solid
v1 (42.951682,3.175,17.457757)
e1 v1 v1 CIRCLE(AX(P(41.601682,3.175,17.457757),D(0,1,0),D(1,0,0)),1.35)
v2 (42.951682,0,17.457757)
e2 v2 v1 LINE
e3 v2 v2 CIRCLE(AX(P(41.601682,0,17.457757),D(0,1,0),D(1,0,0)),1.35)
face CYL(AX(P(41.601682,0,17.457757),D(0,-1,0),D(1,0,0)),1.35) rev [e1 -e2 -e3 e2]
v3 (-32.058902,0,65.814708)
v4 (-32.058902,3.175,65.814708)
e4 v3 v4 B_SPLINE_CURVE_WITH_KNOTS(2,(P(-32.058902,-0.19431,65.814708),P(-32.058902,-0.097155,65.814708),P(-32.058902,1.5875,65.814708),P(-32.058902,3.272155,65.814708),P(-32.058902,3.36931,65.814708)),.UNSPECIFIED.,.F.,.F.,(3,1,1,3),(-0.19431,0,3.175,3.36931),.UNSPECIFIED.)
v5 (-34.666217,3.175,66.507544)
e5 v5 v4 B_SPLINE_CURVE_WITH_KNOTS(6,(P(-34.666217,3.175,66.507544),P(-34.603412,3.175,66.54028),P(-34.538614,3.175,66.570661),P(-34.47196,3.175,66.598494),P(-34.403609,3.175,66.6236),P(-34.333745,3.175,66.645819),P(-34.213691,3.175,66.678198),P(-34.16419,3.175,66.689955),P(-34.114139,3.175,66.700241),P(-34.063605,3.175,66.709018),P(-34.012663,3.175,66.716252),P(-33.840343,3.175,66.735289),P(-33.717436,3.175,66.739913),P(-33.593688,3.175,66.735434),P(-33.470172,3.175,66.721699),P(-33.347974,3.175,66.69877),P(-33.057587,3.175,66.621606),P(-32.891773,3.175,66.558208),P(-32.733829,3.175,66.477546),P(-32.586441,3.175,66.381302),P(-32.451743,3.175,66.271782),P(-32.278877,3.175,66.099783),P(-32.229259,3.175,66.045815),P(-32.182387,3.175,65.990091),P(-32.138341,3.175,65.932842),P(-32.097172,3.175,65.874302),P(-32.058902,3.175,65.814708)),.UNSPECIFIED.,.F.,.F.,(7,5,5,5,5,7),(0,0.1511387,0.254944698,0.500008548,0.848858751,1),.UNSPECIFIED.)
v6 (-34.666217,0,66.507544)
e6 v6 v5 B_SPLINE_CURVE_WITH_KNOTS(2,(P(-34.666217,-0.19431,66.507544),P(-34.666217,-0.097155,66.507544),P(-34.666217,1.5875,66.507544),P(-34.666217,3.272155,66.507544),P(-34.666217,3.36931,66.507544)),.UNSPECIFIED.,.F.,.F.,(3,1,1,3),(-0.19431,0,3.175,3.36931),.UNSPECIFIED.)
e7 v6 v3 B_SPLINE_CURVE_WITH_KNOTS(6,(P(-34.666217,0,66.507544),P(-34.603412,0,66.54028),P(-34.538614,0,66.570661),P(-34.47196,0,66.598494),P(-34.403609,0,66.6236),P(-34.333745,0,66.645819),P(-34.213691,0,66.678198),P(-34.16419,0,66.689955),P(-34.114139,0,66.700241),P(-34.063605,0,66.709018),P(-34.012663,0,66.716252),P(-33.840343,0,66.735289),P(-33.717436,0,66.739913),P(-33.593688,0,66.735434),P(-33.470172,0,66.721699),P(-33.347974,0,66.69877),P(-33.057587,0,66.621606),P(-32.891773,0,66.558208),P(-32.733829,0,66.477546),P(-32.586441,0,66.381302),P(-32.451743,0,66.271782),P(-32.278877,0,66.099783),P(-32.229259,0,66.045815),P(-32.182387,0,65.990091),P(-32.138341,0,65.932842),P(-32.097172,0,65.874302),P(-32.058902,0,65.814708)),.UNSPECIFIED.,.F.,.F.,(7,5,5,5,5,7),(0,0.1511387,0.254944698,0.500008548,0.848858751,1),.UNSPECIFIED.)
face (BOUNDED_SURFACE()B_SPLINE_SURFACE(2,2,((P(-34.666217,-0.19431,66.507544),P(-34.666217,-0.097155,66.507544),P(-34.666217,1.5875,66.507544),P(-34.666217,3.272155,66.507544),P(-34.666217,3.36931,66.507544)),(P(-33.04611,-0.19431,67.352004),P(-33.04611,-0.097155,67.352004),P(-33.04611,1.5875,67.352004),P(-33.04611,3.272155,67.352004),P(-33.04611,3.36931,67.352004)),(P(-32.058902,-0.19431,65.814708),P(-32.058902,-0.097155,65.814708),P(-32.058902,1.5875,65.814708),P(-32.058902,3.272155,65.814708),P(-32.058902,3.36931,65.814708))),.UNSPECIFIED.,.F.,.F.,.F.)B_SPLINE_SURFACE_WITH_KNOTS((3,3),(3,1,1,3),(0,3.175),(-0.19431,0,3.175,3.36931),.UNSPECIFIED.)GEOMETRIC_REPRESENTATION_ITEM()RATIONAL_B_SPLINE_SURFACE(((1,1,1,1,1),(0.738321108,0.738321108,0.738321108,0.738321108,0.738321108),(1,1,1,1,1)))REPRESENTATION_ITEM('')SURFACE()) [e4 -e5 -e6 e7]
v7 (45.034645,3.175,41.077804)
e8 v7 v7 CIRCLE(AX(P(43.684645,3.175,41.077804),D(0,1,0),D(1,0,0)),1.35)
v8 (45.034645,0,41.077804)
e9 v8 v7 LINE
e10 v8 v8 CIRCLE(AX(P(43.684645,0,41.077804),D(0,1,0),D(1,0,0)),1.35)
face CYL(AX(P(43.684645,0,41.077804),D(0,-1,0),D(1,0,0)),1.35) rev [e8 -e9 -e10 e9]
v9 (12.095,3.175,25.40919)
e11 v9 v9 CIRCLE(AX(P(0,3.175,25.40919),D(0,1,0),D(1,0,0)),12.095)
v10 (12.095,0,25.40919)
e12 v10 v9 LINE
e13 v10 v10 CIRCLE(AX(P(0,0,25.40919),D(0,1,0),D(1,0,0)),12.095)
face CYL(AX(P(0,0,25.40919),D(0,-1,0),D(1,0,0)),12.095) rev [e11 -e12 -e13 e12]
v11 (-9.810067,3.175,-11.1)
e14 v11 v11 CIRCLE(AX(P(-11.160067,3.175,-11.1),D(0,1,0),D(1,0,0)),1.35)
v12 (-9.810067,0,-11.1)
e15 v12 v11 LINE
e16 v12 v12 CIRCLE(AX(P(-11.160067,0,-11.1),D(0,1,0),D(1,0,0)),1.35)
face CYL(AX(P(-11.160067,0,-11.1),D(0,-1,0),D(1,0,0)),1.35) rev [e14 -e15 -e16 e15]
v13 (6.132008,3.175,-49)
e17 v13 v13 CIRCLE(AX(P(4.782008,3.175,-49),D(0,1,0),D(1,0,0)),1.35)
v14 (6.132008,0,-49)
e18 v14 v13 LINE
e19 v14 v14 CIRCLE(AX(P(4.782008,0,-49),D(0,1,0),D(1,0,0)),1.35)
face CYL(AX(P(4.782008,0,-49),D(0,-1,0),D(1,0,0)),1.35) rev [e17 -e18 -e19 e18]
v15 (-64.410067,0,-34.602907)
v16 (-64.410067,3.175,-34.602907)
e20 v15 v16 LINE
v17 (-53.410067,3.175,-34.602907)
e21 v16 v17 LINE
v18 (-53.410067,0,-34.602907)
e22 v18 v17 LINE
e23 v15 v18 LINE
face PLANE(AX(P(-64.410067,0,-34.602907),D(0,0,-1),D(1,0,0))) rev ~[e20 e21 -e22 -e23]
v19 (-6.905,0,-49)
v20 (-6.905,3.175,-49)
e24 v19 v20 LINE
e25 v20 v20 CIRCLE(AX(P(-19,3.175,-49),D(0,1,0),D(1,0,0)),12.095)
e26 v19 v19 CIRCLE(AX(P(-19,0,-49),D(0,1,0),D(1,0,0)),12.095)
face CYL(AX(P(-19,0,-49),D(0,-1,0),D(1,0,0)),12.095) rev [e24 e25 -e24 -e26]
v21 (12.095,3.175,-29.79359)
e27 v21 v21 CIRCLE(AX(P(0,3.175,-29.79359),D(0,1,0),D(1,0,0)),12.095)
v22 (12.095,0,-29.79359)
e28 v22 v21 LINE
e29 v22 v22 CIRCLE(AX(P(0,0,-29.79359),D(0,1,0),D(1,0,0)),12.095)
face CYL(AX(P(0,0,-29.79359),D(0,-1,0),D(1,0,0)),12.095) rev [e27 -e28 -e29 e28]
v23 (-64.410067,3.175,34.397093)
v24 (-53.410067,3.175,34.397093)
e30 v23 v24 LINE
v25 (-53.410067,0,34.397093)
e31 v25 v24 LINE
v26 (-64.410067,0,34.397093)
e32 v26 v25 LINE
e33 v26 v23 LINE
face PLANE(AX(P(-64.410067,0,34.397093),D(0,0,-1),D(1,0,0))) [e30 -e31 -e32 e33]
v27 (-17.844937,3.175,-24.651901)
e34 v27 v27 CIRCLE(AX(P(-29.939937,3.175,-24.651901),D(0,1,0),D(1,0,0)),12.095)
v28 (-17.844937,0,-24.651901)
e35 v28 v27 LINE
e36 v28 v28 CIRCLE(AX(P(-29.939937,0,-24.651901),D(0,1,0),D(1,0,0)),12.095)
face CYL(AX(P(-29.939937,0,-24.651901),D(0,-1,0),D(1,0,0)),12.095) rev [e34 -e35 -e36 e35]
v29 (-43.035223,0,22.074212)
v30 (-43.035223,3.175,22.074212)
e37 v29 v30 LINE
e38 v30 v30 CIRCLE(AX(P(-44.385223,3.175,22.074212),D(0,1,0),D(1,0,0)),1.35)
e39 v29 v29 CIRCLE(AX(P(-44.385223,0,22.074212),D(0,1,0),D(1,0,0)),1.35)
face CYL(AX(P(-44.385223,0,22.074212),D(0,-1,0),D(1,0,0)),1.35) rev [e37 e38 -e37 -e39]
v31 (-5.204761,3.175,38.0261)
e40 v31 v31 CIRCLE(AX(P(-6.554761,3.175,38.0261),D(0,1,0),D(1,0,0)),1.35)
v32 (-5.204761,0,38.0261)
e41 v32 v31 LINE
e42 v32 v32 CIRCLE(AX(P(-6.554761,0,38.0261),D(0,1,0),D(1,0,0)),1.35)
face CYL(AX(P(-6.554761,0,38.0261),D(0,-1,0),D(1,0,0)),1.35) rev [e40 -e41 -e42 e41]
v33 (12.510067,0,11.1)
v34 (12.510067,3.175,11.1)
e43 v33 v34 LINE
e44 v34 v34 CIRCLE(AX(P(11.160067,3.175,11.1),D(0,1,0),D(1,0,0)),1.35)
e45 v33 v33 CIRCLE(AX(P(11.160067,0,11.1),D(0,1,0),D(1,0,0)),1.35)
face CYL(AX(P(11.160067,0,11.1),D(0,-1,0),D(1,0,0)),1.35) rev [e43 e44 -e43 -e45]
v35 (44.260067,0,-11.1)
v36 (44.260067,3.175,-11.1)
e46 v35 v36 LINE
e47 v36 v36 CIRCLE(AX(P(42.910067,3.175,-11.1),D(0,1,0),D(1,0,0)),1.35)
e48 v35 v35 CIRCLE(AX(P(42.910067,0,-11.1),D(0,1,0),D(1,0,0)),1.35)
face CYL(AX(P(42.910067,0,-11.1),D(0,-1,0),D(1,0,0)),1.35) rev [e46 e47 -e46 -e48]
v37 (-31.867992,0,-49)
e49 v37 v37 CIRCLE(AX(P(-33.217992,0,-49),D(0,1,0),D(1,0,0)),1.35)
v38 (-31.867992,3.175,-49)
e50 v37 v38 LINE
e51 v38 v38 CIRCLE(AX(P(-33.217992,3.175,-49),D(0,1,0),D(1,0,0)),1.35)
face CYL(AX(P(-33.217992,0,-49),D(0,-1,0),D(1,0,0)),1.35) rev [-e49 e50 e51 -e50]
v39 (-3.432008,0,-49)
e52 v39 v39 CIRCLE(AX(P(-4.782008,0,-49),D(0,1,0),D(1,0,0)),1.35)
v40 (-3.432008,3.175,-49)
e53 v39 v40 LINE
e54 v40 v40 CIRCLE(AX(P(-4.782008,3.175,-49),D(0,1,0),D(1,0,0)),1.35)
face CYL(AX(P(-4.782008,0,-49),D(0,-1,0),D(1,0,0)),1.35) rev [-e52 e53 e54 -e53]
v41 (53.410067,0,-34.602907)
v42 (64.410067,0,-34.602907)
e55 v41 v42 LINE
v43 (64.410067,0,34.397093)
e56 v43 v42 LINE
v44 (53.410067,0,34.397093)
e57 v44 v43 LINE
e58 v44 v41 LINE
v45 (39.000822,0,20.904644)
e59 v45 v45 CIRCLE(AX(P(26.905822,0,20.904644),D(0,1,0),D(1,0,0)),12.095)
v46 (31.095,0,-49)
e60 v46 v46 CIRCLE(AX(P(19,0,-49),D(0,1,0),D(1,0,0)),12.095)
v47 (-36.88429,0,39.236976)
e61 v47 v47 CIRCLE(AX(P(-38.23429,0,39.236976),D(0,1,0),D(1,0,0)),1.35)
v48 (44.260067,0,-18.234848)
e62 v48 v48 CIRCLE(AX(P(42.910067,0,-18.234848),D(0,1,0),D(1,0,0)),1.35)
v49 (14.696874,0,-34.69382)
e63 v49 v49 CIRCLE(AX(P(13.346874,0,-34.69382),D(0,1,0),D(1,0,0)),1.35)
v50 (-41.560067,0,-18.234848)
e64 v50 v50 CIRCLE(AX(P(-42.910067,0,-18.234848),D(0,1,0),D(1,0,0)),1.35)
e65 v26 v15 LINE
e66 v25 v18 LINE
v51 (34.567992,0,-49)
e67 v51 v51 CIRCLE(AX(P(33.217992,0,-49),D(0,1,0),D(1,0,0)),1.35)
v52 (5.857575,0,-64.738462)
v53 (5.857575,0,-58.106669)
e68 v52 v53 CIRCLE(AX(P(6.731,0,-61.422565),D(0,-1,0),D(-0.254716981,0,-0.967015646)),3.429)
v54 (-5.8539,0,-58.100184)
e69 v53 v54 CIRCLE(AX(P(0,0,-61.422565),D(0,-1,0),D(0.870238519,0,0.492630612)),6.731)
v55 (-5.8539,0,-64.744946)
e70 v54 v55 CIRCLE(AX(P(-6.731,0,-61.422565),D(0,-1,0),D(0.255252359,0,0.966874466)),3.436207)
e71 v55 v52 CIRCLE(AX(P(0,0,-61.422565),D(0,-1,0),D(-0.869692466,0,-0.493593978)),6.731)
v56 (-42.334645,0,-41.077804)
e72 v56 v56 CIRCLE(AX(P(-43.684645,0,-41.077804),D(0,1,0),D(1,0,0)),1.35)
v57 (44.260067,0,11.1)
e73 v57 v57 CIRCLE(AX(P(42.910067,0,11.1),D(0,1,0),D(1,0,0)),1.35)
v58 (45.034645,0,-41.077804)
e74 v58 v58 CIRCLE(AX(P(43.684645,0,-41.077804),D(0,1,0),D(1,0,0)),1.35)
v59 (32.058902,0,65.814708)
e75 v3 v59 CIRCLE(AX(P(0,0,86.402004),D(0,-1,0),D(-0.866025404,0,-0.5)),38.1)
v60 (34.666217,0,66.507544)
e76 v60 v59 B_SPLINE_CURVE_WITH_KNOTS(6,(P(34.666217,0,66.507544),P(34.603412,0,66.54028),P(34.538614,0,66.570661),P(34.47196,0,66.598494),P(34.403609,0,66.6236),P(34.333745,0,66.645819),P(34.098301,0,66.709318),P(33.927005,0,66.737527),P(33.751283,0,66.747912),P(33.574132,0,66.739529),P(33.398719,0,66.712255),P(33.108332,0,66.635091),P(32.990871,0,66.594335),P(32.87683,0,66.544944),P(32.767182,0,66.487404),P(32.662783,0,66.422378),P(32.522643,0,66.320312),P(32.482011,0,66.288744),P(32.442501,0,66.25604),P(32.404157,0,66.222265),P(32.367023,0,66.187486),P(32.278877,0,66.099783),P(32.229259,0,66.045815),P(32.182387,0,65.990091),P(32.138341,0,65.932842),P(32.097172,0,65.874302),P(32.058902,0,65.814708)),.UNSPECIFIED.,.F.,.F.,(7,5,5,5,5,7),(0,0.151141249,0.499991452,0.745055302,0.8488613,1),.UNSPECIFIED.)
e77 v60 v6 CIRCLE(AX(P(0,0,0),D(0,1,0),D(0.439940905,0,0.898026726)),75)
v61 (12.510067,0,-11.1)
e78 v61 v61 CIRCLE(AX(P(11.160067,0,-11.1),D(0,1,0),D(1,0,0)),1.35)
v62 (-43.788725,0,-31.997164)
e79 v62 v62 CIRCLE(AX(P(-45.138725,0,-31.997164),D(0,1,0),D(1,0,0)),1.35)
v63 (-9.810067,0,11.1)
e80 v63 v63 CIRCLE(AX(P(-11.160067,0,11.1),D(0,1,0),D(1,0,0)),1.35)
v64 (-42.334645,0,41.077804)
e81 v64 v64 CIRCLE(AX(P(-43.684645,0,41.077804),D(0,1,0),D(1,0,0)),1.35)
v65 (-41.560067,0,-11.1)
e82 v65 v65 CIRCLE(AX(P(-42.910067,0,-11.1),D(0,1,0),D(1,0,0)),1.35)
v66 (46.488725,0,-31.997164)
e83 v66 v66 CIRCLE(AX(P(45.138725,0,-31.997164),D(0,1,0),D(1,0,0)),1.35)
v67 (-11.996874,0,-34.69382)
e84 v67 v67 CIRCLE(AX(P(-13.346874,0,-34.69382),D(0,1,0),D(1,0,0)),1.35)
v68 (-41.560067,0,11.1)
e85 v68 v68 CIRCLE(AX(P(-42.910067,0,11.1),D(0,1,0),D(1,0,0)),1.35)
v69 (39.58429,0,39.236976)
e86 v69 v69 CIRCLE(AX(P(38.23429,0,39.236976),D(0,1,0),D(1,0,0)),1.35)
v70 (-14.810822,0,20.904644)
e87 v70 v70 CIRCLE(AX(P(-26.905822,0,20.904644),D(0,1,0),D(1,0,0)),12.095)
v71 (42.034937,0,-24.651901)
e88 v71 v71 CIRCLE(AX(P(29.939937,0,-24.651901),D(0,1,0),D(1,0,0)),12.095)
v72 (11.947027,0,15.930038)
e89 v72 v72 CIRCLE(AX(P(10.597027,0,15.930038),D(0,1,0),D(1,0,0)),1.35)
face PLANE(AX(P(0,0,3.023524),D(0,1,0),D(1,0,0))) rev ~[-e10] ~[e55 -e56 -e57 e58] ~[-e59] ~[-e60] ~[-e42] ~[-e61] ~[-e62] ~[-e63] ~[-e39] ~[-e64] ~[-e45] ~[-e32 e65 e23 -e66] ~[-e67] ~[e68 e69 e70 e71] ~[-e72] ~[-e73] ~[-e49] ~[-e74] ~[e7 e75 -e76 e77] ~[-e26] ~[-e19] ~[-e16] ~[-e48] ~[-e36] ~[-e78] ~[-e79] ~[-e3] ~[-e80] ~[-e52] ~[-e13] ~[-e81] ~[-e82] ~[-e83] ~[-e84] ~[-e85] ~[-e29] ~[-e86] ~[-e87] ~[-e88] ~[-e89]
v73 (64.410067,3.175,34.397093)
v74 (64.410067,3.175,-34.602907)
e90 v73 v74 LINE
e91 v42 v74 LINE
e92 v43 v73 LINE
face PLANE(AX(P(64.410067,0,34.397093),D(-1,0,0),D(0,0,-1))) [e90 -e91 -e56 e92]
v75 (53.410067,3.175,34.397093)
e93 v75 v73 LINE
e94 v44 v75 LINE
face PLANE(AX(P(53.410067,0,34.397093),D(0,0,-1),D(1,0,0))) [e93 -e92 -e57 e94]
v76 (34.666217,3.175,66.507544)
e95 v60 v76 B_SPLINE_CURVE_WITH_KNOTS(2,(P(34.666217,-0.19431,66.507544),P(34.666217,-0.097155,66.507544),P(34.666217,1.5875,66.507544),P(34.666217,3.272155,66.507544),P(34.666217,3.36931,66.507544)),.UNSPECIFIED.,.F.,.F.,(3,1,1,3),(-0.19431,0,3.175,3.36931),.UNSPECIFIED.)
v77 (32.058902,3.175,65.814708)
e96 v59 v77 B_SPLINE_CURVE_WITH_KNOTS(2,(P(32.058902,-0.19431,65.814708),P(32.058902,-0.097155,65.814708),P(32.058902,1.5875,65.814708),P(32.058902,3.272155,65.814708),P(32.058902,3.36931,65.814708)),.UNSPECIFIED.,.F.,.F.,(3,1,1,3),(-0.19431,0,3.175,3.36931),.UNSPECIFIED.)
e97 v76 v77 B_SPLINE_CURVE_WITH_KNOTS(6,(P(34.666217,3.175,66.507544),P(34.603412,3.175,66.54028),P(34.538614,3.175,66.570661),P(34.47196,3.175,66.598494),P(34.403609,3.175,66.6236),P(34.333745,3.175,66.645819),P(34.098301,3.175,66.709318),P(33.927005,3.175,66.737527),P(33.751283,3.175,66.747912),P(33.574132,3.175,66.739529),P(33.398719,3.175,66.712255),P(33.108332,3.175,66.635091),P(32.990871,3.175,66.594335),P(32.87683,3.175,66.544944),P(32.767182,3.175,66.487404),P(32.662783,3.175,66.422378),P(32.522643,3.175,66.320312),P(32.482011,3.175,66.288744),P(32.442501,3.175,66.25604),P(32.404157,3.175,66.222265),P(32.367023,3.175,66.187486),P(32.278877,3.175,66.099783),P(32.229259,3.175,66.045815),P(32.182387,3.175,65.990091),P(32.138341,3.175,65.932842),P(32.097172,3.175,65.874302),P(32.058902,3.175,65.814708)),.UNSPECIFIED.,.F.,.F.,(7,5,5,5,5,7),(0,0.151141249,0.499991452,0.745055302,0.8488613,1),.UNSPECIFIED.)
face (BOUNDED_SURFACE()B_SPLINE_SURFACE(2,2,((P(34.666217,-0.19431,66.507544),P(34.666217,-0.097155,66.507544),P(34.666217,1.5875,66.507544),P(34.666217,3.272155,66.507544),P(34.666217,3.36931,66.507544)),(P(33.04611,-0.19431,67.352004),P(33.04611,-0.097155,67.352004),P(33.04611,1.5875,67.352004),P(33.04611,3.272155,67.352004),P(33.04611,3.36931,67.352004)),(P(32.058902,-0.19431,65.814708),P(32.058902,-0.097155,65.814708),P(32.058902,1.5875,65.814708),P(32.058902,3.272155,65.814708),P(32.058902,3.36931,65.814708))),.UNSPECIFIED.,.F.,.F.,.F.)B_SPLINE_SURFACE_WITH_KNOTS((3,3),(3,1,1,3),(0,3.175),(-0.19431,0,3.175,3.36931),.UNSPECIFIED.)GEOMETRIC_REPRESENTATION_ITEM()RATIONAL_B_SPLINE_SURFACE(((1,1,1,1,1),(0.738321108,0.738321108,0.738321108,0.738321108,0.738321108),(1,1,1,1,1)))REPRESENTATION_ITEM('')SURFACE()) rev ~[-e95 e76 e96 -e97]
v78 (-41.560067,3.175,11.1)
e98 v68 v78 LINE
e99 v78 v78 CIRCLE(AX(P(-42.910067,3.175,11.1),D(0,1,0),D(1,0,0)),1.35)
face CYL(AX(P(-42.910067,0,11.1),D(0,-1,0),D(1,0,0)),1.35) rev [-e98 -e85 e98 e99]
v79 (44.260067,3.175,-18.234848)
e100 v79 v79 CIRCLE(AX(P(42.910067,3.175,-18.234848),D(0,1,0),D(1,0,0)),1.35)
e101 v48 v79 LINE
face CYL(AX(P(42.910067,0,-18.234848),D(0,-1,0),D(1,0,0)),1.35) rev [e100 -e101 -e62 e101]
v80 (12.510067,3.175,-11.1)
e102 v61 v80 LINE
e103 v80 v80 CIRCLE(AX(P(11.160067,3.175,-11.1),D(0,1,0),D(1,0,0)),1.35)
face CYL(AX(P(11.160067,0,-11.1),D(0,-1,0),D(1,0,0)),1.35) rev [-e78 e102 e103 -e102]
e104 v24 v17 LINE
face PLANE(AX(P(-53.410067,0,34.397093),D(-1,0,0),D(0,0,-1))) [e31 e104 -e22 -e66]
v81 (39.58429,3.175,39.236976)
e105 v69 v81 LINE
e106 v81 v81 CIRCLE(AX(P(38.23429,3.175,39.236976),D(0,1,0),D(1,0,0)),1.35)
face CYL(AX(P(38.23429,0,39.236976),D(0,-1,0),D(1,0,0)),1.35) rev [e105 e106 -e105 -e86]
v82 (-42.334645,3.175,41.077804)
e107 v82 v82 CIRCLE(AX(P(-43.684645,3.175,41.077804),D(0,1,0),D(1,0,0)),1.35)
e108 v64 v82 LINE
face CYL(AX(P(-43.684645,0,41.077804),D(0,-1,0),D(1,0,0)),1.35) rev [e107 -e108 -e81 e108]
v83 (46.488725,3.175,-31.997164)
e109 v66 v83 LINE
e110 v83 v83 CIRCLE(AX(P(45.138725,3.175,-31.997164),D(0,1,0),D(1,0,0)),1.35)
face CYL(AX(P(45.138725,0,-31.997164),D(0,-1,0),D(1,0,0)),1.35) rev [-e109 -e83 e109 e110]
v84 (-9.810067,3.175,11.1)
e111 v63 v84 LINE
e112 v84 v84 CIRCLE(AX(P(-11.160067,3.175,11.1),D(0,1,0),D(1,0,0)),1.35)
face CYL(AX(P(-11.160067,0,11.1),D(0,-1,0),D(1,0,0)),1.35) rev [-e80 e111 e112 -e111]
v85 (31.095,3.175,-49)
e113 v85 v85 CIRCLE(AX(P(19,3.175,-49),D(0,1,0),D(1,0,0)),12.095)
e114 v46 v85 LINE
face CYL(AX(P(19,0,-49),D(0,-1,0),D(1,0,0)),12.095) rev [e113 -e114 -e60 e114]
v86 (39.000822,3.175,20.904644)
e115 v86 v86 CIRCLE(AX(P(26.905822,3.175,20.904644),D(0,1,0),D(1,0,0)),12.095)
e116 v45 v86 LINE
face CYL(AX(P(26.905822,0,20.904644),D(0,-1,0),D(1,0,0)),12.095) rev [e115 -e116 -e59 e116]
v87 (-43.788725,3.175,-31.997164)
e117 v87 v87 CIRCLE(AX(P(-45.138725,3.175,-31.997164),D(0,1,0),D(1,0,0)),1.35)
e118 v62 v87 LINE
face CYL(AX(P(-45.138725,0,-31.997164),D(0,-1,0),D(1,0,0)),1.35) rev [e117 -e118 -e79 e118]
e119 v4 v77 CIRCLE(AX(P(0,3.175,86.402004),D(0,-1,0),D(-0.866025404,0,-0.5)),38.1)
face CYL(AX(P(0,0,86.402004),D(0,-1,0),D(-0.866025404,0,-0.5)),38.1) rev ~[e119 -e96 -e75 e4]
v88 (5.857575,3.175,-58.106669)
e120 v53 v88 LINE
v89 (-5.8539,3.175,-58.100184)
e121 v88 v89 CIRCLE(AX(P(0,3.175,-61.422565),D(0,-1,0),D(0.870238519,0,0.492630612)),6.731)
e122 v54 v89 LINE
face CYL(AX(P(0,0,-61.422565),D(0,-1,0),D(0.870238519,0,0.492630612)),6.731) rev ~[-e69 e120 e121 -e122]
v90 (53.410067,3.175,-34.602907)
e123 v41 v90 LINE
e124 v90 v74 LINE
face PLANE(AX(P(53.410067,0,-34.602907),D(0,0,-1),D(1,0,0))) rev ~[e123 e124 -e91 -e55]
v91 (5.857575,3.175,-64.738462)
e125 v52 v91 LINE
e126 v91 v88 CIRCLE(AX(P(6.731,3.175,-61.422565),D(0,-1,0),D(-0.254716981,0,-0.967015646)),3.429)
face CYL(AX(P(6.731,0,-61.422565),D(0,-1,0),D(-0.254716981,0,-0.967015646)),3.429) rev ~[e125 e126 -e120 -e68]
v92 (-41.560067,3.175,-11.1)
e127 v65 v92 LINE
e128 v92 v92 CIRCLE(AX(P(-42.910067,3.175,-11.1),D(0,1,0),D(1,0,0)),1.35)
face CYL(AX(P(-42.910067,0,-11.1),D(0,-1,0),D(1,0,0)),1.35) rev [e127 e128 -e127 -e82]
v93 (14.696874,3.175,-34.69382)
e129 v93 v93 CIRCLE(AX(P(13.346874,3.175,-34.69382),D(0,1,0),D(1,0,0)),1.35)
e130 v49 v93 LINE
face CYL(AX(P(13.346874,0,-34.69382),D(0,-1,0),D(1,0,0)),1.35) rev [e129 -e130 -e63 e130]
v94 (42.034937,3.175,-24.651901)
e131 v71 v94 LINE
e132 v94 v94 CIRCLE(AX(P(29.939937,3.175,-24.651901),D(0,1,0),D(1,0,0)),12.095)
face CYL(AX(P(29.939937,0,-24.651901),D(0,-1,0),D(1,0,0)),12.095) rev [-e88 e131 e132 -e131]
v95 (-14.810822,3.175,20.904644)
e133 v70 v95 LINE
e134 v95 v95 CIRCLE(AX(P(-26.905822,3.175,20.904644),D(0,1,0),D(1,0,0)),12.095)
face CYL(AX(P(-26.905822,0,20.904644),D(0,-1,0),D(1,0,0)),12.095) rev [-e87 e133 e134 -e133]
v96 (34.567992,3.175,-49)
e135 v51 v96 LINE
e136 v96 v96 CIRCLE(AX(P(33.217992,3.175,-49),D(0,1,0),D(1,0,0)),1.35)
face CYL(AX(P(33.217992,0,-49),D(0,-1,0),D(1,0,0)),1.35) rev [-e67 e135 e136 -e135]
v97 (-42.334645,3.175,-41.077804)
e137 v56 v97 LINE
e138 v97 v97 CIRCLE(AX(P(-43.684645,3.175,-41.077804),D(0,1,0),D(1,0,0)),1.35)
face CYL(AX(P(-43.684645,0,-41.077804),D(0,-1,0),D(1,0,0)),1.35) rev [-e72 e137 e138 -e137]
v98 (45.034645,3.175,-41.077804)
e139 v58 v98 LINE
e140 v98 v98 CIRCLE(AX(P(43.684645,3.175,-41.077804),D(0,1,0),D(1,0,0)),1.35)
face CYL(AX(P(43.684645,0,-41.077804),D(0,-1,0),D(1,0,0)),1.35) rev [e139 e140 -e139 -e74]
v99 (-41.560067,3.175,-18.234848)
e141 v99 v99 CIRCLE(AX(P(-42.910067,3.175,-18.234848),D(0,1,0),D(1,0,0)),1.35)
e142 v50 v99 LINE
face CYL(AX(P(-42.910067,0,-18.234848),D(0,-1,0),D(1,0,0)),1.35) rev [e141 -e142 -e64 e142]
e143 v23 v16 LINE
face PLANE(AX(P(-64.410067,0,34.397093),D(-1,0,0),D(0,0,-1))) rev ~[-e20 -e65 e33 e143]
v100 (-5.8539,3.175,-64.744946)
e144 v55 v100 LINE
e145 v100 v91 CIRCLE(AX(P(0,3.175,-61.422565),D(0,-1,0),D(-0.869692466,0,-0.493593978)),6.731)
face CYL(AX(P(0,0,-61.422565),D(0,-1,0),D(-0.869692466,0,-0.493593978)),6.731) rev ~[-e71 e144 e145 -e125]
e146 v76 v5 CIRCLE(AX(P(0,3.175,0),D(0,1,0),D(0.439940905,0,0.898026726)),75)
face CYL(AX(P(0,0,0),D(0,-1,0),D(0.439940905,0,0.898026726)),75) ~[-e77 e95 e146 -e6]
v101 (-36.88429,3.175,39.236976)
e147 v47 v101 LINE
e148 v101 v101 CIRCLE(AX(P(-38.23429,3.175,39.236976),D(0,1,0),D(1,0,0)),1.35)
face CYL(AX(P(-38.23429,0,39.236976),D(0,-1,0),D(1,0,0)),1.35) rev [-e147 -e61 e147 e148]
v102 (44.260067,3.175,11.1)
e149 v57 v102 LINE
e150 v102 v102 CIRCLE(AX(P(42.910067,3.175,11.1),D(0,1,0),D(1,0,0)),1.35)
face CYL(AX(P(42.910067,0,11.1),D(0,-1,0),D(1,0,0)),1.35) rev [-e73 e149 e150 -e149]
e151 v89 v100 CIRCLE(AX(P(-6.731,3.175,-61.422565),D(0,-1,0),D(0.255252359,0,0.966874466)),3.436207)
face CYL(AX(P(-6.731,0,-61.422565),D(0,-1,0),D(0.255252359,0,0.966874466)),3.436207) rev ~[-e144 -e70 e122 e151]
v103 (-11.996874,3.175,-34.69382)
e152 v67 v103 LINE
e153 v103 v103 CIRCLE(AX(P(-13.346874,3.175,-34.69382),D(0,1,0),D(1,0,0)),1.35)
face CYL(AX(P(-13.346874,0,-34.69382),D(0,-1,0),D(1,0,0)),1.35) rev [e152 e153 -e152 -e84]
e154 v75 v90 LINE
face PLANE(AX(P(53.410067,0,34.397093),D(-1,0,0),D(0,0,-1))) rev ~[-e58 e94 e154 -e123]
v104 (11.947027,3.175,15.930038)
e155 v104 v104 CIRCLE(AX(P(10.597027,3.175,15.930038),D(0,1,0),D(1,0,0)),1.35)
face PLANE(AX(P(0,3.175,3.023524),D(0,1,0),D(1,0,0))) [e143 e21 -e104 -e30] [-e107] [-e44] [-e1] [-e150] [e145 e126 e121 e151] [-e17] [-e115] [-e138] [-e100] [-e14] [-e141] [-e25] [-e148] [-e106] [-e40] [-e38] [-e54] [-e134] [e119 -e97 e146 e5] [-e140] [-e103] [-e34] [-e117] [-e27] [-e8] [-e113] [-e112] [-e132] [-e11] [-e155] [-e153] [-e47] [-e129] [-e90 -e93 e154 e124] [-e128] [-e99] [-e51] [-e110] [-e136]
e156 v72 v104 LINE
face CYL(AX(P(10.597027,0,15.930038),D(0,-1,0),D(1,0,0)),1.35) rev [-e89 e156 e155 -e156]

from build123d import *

# Parameters (mm, degrees)
SKETCH1_R           = 1.35
SKETCH1_R_2         = 12.095
SKETCH1_W           = 11
SKETCH1_H           = 69
BOSS_EXTRUDE2_DEPTH = 3.175
FILLET1_R           = 2


with BuildPart() as part:
    # Sketch1 → Boss-Extrude2 (new body)
    with BuildSketch(Plane(origin=(0, 0, 0), x_dir=(1, 0, 0), z_dir=(0, 1, 0))):
        with BuildLine():
            ThreePointArc((32.995567884, -67.352004425), (0, 75), (-32.995567884, -67.352004425))
            ThreePointArc((-32.995567884, -67.352004425), (0, -48.302004425), (32.995567884, -67.352004425))
        make_face()
        with Locations((-42.910067426, 11.1)):
            Circle(SKETCH1_R, mode=Mode.SUBTRACT)
        with Locations((-42.910067426, -11.1)):
            Circle(SKETCH1_R, mode=Mode.SUBTRACT)
        with Locations((-11.160067426, -11.1)):
            Circle(SKETCH1_R, mode=Mode.SUBTRACT)
        with Locations((-11.160067426, 11.1)):
            Circle(SKETCH1_R, mode=Mode.SUBTRACT)
        with Locations((11.160067426, 11.1)):
            Circle(SKETCH1_R, mode=Mode.SUBTRACT)
        with Locations((11.160067426, -11.1)):
            Circle(SKETCH1_R, mode=Mode.SUBTRACT)
        with Locations((42.910067426, -11.1)):
            Circle(SKETCH1_R, mode=Mode.SUBTRACT)
        with Locations((42.910067426, 11.1)):
            Circle(SKETCH1_R, mode=Mode.SUBTRACT)
        with Locations((26.905821676, -20.904643604)):
            Circle(SKETCH1_R_2, mode=Mode.SUBTRACT)
        with Locations((19, 49)):
            Circle(SKETCH1_R_2, mode=Mode.SUBTRACT)
        with Locations((0, 29.793589551)):
            Circle(SKETCH1_R_2, mode=Mode.SUBTRACT)
        with Locations((0, -25.409190322)):
            Circle(SKETCH1_R_2, mode=Mode.SUBTRACT)
        with Locations((29.939937248, 24.651901309)):
            Circle(SKETCH1_R_2, mode=Mode.SUBTRACT)
        with Locations((-26.905821676, -20.904643604)):
            Circle(SKETCH1_R_2, mode=Mode.SUBTRACT)
        with Locations((-29.939937248, 24.651901309)):
            Circle(SKETCH1_R_2, mode=Mode.SUBTRACT)
        with Locations((-33.21799214, 49)):
            Circle(SKETCH1_R, mode=Mode.SUBTRACT)
        with Locations((-4.78200786, 49)):
            Circle(SKETCH1_R, mode=Mode.SUBTRACT)
        with Locations((4.78200786, 49)):
            Circle(SKETCH1_R, mode=Mode.SUBTRACT)
        with Locations((-42.910067426, 18.234848025)):
            Circle(SKETCH1_R, mode=Mode.SUBTRACT)
        with Locations((42.910067426, 18.234848025)):
            Circle(SKETCH1_R, mode=Mode.SUBTRACT)
        with Locations((-19, 49)):
            Circle(SKETCH1_R_2, mode=Mode.SUBTRACT)
        with Locations((45.13872464, 31.997163897)):
            Circle(SKETCH1_R, mode=Mode.SUBTRACT)
        with Locations((-45.13872464, 31.997163897)):
            Circle(SKETCH1_R, mode=Mode.SUBTRACT)
        with Locations((13.346873881, 34.693819966)):
            Circle(SKETCH1_R, mode=Mode.SUBTRACT)
        with Locations((-6.55476095, -38.026099982)):
            Circle(SKETCH1_R, mode=Mode.SUBTRACT)
        with Locations((-13.346873881, 34.693819966)):
            Circle(SKETCH1_R, mode=Mode.SUBTRACT)
        with Locations((10.597026674, -15.930038136)):
            Circle(SKETCH1_R, mode=Mode.SUBTRACT)
        with Locations((-38.234289702, -39.23697625)):
            Circle(SKETCH1_R, mode=Mode.SUBTRACT)
        with Locations((-43.684644625, -41.077803557)):
            Circle(SKETCH1_R, mode=Mode.SUBTRACT)
        with Locations((-43.684644625, 41.077803557)):
            Circle(SKETCH1_R, mode=Mode.SUBTRACT)
        with Locations((43.684644625, -41.077803557)):
            Circle(SKETCH1_R, mode=Mode.SUBTRACT)
        with Locations((33.21799214, 49)):
            Circle(SKETCH1_R, mode=Mode.SUBTRACT)
        with Locations((43.684644625, 41.077803557)):
            Circle(SKETCH1_R, mode=Mode.SUBTRACT)
        with Locations((-44.385223141, -22.074211772)):
            Circle(SKETCH1_R, mode=Mode.SUBTRACT)
        with Locations((41.601681906, -17.457756634)):
            Circle(SKETCH1_R, mode=Mode.SUBTRACT)
        with Locations((38.234289702, -39.23697625)):
            Circle(SKETCH1_R, mode=Mode.SUBTRACT)
        with Locations((58.910067426, 0.102907352)):
            Rectangle(SKETCH1_W, SKETCH1_H, mode=Mode.SUBTRACT)
        with Locations((-58.910067426, 0.102907352)):
            Rectangle(SKETCH1_W, SKETCH1_H, mode=Mode.SUBTRACT)
        with BuildLine():
            ThreePointArc((-5.853899988, 64.744946271), (0.003726822, 68.153564176), (5.857575472, 64.738461857))
            ThreePointArc((5.857575472, 64.738461857), (10.16, 61.422565207), (5.857575472, 58.106668557))
            ThreePointArc((5.857575472, 58.106668557), (0.003726822, 54.691566239), (-5.853899988, 58.100184144))
            ThreePointArc((-5.853899988, 58.100184144), (-10.167207264, 61.422565207), (-5.853899988, 64.744946271))
        make_face(mode=Mode.SUBTRACT)
    extrude(amount=BOSS_EXTRUDE2_DEPTH)

    # Fillet1
    fillet1_edges = [part.edges().sort_by_distance(p)[0] for p in [
        (-32.995567884, 1.5875, 67.352004425),
        (32.995567884, 1.5875, 67.352004425),
    ]]
    fillet(fillet1_edges, radius=FILLET1_R)


solid = part.part
